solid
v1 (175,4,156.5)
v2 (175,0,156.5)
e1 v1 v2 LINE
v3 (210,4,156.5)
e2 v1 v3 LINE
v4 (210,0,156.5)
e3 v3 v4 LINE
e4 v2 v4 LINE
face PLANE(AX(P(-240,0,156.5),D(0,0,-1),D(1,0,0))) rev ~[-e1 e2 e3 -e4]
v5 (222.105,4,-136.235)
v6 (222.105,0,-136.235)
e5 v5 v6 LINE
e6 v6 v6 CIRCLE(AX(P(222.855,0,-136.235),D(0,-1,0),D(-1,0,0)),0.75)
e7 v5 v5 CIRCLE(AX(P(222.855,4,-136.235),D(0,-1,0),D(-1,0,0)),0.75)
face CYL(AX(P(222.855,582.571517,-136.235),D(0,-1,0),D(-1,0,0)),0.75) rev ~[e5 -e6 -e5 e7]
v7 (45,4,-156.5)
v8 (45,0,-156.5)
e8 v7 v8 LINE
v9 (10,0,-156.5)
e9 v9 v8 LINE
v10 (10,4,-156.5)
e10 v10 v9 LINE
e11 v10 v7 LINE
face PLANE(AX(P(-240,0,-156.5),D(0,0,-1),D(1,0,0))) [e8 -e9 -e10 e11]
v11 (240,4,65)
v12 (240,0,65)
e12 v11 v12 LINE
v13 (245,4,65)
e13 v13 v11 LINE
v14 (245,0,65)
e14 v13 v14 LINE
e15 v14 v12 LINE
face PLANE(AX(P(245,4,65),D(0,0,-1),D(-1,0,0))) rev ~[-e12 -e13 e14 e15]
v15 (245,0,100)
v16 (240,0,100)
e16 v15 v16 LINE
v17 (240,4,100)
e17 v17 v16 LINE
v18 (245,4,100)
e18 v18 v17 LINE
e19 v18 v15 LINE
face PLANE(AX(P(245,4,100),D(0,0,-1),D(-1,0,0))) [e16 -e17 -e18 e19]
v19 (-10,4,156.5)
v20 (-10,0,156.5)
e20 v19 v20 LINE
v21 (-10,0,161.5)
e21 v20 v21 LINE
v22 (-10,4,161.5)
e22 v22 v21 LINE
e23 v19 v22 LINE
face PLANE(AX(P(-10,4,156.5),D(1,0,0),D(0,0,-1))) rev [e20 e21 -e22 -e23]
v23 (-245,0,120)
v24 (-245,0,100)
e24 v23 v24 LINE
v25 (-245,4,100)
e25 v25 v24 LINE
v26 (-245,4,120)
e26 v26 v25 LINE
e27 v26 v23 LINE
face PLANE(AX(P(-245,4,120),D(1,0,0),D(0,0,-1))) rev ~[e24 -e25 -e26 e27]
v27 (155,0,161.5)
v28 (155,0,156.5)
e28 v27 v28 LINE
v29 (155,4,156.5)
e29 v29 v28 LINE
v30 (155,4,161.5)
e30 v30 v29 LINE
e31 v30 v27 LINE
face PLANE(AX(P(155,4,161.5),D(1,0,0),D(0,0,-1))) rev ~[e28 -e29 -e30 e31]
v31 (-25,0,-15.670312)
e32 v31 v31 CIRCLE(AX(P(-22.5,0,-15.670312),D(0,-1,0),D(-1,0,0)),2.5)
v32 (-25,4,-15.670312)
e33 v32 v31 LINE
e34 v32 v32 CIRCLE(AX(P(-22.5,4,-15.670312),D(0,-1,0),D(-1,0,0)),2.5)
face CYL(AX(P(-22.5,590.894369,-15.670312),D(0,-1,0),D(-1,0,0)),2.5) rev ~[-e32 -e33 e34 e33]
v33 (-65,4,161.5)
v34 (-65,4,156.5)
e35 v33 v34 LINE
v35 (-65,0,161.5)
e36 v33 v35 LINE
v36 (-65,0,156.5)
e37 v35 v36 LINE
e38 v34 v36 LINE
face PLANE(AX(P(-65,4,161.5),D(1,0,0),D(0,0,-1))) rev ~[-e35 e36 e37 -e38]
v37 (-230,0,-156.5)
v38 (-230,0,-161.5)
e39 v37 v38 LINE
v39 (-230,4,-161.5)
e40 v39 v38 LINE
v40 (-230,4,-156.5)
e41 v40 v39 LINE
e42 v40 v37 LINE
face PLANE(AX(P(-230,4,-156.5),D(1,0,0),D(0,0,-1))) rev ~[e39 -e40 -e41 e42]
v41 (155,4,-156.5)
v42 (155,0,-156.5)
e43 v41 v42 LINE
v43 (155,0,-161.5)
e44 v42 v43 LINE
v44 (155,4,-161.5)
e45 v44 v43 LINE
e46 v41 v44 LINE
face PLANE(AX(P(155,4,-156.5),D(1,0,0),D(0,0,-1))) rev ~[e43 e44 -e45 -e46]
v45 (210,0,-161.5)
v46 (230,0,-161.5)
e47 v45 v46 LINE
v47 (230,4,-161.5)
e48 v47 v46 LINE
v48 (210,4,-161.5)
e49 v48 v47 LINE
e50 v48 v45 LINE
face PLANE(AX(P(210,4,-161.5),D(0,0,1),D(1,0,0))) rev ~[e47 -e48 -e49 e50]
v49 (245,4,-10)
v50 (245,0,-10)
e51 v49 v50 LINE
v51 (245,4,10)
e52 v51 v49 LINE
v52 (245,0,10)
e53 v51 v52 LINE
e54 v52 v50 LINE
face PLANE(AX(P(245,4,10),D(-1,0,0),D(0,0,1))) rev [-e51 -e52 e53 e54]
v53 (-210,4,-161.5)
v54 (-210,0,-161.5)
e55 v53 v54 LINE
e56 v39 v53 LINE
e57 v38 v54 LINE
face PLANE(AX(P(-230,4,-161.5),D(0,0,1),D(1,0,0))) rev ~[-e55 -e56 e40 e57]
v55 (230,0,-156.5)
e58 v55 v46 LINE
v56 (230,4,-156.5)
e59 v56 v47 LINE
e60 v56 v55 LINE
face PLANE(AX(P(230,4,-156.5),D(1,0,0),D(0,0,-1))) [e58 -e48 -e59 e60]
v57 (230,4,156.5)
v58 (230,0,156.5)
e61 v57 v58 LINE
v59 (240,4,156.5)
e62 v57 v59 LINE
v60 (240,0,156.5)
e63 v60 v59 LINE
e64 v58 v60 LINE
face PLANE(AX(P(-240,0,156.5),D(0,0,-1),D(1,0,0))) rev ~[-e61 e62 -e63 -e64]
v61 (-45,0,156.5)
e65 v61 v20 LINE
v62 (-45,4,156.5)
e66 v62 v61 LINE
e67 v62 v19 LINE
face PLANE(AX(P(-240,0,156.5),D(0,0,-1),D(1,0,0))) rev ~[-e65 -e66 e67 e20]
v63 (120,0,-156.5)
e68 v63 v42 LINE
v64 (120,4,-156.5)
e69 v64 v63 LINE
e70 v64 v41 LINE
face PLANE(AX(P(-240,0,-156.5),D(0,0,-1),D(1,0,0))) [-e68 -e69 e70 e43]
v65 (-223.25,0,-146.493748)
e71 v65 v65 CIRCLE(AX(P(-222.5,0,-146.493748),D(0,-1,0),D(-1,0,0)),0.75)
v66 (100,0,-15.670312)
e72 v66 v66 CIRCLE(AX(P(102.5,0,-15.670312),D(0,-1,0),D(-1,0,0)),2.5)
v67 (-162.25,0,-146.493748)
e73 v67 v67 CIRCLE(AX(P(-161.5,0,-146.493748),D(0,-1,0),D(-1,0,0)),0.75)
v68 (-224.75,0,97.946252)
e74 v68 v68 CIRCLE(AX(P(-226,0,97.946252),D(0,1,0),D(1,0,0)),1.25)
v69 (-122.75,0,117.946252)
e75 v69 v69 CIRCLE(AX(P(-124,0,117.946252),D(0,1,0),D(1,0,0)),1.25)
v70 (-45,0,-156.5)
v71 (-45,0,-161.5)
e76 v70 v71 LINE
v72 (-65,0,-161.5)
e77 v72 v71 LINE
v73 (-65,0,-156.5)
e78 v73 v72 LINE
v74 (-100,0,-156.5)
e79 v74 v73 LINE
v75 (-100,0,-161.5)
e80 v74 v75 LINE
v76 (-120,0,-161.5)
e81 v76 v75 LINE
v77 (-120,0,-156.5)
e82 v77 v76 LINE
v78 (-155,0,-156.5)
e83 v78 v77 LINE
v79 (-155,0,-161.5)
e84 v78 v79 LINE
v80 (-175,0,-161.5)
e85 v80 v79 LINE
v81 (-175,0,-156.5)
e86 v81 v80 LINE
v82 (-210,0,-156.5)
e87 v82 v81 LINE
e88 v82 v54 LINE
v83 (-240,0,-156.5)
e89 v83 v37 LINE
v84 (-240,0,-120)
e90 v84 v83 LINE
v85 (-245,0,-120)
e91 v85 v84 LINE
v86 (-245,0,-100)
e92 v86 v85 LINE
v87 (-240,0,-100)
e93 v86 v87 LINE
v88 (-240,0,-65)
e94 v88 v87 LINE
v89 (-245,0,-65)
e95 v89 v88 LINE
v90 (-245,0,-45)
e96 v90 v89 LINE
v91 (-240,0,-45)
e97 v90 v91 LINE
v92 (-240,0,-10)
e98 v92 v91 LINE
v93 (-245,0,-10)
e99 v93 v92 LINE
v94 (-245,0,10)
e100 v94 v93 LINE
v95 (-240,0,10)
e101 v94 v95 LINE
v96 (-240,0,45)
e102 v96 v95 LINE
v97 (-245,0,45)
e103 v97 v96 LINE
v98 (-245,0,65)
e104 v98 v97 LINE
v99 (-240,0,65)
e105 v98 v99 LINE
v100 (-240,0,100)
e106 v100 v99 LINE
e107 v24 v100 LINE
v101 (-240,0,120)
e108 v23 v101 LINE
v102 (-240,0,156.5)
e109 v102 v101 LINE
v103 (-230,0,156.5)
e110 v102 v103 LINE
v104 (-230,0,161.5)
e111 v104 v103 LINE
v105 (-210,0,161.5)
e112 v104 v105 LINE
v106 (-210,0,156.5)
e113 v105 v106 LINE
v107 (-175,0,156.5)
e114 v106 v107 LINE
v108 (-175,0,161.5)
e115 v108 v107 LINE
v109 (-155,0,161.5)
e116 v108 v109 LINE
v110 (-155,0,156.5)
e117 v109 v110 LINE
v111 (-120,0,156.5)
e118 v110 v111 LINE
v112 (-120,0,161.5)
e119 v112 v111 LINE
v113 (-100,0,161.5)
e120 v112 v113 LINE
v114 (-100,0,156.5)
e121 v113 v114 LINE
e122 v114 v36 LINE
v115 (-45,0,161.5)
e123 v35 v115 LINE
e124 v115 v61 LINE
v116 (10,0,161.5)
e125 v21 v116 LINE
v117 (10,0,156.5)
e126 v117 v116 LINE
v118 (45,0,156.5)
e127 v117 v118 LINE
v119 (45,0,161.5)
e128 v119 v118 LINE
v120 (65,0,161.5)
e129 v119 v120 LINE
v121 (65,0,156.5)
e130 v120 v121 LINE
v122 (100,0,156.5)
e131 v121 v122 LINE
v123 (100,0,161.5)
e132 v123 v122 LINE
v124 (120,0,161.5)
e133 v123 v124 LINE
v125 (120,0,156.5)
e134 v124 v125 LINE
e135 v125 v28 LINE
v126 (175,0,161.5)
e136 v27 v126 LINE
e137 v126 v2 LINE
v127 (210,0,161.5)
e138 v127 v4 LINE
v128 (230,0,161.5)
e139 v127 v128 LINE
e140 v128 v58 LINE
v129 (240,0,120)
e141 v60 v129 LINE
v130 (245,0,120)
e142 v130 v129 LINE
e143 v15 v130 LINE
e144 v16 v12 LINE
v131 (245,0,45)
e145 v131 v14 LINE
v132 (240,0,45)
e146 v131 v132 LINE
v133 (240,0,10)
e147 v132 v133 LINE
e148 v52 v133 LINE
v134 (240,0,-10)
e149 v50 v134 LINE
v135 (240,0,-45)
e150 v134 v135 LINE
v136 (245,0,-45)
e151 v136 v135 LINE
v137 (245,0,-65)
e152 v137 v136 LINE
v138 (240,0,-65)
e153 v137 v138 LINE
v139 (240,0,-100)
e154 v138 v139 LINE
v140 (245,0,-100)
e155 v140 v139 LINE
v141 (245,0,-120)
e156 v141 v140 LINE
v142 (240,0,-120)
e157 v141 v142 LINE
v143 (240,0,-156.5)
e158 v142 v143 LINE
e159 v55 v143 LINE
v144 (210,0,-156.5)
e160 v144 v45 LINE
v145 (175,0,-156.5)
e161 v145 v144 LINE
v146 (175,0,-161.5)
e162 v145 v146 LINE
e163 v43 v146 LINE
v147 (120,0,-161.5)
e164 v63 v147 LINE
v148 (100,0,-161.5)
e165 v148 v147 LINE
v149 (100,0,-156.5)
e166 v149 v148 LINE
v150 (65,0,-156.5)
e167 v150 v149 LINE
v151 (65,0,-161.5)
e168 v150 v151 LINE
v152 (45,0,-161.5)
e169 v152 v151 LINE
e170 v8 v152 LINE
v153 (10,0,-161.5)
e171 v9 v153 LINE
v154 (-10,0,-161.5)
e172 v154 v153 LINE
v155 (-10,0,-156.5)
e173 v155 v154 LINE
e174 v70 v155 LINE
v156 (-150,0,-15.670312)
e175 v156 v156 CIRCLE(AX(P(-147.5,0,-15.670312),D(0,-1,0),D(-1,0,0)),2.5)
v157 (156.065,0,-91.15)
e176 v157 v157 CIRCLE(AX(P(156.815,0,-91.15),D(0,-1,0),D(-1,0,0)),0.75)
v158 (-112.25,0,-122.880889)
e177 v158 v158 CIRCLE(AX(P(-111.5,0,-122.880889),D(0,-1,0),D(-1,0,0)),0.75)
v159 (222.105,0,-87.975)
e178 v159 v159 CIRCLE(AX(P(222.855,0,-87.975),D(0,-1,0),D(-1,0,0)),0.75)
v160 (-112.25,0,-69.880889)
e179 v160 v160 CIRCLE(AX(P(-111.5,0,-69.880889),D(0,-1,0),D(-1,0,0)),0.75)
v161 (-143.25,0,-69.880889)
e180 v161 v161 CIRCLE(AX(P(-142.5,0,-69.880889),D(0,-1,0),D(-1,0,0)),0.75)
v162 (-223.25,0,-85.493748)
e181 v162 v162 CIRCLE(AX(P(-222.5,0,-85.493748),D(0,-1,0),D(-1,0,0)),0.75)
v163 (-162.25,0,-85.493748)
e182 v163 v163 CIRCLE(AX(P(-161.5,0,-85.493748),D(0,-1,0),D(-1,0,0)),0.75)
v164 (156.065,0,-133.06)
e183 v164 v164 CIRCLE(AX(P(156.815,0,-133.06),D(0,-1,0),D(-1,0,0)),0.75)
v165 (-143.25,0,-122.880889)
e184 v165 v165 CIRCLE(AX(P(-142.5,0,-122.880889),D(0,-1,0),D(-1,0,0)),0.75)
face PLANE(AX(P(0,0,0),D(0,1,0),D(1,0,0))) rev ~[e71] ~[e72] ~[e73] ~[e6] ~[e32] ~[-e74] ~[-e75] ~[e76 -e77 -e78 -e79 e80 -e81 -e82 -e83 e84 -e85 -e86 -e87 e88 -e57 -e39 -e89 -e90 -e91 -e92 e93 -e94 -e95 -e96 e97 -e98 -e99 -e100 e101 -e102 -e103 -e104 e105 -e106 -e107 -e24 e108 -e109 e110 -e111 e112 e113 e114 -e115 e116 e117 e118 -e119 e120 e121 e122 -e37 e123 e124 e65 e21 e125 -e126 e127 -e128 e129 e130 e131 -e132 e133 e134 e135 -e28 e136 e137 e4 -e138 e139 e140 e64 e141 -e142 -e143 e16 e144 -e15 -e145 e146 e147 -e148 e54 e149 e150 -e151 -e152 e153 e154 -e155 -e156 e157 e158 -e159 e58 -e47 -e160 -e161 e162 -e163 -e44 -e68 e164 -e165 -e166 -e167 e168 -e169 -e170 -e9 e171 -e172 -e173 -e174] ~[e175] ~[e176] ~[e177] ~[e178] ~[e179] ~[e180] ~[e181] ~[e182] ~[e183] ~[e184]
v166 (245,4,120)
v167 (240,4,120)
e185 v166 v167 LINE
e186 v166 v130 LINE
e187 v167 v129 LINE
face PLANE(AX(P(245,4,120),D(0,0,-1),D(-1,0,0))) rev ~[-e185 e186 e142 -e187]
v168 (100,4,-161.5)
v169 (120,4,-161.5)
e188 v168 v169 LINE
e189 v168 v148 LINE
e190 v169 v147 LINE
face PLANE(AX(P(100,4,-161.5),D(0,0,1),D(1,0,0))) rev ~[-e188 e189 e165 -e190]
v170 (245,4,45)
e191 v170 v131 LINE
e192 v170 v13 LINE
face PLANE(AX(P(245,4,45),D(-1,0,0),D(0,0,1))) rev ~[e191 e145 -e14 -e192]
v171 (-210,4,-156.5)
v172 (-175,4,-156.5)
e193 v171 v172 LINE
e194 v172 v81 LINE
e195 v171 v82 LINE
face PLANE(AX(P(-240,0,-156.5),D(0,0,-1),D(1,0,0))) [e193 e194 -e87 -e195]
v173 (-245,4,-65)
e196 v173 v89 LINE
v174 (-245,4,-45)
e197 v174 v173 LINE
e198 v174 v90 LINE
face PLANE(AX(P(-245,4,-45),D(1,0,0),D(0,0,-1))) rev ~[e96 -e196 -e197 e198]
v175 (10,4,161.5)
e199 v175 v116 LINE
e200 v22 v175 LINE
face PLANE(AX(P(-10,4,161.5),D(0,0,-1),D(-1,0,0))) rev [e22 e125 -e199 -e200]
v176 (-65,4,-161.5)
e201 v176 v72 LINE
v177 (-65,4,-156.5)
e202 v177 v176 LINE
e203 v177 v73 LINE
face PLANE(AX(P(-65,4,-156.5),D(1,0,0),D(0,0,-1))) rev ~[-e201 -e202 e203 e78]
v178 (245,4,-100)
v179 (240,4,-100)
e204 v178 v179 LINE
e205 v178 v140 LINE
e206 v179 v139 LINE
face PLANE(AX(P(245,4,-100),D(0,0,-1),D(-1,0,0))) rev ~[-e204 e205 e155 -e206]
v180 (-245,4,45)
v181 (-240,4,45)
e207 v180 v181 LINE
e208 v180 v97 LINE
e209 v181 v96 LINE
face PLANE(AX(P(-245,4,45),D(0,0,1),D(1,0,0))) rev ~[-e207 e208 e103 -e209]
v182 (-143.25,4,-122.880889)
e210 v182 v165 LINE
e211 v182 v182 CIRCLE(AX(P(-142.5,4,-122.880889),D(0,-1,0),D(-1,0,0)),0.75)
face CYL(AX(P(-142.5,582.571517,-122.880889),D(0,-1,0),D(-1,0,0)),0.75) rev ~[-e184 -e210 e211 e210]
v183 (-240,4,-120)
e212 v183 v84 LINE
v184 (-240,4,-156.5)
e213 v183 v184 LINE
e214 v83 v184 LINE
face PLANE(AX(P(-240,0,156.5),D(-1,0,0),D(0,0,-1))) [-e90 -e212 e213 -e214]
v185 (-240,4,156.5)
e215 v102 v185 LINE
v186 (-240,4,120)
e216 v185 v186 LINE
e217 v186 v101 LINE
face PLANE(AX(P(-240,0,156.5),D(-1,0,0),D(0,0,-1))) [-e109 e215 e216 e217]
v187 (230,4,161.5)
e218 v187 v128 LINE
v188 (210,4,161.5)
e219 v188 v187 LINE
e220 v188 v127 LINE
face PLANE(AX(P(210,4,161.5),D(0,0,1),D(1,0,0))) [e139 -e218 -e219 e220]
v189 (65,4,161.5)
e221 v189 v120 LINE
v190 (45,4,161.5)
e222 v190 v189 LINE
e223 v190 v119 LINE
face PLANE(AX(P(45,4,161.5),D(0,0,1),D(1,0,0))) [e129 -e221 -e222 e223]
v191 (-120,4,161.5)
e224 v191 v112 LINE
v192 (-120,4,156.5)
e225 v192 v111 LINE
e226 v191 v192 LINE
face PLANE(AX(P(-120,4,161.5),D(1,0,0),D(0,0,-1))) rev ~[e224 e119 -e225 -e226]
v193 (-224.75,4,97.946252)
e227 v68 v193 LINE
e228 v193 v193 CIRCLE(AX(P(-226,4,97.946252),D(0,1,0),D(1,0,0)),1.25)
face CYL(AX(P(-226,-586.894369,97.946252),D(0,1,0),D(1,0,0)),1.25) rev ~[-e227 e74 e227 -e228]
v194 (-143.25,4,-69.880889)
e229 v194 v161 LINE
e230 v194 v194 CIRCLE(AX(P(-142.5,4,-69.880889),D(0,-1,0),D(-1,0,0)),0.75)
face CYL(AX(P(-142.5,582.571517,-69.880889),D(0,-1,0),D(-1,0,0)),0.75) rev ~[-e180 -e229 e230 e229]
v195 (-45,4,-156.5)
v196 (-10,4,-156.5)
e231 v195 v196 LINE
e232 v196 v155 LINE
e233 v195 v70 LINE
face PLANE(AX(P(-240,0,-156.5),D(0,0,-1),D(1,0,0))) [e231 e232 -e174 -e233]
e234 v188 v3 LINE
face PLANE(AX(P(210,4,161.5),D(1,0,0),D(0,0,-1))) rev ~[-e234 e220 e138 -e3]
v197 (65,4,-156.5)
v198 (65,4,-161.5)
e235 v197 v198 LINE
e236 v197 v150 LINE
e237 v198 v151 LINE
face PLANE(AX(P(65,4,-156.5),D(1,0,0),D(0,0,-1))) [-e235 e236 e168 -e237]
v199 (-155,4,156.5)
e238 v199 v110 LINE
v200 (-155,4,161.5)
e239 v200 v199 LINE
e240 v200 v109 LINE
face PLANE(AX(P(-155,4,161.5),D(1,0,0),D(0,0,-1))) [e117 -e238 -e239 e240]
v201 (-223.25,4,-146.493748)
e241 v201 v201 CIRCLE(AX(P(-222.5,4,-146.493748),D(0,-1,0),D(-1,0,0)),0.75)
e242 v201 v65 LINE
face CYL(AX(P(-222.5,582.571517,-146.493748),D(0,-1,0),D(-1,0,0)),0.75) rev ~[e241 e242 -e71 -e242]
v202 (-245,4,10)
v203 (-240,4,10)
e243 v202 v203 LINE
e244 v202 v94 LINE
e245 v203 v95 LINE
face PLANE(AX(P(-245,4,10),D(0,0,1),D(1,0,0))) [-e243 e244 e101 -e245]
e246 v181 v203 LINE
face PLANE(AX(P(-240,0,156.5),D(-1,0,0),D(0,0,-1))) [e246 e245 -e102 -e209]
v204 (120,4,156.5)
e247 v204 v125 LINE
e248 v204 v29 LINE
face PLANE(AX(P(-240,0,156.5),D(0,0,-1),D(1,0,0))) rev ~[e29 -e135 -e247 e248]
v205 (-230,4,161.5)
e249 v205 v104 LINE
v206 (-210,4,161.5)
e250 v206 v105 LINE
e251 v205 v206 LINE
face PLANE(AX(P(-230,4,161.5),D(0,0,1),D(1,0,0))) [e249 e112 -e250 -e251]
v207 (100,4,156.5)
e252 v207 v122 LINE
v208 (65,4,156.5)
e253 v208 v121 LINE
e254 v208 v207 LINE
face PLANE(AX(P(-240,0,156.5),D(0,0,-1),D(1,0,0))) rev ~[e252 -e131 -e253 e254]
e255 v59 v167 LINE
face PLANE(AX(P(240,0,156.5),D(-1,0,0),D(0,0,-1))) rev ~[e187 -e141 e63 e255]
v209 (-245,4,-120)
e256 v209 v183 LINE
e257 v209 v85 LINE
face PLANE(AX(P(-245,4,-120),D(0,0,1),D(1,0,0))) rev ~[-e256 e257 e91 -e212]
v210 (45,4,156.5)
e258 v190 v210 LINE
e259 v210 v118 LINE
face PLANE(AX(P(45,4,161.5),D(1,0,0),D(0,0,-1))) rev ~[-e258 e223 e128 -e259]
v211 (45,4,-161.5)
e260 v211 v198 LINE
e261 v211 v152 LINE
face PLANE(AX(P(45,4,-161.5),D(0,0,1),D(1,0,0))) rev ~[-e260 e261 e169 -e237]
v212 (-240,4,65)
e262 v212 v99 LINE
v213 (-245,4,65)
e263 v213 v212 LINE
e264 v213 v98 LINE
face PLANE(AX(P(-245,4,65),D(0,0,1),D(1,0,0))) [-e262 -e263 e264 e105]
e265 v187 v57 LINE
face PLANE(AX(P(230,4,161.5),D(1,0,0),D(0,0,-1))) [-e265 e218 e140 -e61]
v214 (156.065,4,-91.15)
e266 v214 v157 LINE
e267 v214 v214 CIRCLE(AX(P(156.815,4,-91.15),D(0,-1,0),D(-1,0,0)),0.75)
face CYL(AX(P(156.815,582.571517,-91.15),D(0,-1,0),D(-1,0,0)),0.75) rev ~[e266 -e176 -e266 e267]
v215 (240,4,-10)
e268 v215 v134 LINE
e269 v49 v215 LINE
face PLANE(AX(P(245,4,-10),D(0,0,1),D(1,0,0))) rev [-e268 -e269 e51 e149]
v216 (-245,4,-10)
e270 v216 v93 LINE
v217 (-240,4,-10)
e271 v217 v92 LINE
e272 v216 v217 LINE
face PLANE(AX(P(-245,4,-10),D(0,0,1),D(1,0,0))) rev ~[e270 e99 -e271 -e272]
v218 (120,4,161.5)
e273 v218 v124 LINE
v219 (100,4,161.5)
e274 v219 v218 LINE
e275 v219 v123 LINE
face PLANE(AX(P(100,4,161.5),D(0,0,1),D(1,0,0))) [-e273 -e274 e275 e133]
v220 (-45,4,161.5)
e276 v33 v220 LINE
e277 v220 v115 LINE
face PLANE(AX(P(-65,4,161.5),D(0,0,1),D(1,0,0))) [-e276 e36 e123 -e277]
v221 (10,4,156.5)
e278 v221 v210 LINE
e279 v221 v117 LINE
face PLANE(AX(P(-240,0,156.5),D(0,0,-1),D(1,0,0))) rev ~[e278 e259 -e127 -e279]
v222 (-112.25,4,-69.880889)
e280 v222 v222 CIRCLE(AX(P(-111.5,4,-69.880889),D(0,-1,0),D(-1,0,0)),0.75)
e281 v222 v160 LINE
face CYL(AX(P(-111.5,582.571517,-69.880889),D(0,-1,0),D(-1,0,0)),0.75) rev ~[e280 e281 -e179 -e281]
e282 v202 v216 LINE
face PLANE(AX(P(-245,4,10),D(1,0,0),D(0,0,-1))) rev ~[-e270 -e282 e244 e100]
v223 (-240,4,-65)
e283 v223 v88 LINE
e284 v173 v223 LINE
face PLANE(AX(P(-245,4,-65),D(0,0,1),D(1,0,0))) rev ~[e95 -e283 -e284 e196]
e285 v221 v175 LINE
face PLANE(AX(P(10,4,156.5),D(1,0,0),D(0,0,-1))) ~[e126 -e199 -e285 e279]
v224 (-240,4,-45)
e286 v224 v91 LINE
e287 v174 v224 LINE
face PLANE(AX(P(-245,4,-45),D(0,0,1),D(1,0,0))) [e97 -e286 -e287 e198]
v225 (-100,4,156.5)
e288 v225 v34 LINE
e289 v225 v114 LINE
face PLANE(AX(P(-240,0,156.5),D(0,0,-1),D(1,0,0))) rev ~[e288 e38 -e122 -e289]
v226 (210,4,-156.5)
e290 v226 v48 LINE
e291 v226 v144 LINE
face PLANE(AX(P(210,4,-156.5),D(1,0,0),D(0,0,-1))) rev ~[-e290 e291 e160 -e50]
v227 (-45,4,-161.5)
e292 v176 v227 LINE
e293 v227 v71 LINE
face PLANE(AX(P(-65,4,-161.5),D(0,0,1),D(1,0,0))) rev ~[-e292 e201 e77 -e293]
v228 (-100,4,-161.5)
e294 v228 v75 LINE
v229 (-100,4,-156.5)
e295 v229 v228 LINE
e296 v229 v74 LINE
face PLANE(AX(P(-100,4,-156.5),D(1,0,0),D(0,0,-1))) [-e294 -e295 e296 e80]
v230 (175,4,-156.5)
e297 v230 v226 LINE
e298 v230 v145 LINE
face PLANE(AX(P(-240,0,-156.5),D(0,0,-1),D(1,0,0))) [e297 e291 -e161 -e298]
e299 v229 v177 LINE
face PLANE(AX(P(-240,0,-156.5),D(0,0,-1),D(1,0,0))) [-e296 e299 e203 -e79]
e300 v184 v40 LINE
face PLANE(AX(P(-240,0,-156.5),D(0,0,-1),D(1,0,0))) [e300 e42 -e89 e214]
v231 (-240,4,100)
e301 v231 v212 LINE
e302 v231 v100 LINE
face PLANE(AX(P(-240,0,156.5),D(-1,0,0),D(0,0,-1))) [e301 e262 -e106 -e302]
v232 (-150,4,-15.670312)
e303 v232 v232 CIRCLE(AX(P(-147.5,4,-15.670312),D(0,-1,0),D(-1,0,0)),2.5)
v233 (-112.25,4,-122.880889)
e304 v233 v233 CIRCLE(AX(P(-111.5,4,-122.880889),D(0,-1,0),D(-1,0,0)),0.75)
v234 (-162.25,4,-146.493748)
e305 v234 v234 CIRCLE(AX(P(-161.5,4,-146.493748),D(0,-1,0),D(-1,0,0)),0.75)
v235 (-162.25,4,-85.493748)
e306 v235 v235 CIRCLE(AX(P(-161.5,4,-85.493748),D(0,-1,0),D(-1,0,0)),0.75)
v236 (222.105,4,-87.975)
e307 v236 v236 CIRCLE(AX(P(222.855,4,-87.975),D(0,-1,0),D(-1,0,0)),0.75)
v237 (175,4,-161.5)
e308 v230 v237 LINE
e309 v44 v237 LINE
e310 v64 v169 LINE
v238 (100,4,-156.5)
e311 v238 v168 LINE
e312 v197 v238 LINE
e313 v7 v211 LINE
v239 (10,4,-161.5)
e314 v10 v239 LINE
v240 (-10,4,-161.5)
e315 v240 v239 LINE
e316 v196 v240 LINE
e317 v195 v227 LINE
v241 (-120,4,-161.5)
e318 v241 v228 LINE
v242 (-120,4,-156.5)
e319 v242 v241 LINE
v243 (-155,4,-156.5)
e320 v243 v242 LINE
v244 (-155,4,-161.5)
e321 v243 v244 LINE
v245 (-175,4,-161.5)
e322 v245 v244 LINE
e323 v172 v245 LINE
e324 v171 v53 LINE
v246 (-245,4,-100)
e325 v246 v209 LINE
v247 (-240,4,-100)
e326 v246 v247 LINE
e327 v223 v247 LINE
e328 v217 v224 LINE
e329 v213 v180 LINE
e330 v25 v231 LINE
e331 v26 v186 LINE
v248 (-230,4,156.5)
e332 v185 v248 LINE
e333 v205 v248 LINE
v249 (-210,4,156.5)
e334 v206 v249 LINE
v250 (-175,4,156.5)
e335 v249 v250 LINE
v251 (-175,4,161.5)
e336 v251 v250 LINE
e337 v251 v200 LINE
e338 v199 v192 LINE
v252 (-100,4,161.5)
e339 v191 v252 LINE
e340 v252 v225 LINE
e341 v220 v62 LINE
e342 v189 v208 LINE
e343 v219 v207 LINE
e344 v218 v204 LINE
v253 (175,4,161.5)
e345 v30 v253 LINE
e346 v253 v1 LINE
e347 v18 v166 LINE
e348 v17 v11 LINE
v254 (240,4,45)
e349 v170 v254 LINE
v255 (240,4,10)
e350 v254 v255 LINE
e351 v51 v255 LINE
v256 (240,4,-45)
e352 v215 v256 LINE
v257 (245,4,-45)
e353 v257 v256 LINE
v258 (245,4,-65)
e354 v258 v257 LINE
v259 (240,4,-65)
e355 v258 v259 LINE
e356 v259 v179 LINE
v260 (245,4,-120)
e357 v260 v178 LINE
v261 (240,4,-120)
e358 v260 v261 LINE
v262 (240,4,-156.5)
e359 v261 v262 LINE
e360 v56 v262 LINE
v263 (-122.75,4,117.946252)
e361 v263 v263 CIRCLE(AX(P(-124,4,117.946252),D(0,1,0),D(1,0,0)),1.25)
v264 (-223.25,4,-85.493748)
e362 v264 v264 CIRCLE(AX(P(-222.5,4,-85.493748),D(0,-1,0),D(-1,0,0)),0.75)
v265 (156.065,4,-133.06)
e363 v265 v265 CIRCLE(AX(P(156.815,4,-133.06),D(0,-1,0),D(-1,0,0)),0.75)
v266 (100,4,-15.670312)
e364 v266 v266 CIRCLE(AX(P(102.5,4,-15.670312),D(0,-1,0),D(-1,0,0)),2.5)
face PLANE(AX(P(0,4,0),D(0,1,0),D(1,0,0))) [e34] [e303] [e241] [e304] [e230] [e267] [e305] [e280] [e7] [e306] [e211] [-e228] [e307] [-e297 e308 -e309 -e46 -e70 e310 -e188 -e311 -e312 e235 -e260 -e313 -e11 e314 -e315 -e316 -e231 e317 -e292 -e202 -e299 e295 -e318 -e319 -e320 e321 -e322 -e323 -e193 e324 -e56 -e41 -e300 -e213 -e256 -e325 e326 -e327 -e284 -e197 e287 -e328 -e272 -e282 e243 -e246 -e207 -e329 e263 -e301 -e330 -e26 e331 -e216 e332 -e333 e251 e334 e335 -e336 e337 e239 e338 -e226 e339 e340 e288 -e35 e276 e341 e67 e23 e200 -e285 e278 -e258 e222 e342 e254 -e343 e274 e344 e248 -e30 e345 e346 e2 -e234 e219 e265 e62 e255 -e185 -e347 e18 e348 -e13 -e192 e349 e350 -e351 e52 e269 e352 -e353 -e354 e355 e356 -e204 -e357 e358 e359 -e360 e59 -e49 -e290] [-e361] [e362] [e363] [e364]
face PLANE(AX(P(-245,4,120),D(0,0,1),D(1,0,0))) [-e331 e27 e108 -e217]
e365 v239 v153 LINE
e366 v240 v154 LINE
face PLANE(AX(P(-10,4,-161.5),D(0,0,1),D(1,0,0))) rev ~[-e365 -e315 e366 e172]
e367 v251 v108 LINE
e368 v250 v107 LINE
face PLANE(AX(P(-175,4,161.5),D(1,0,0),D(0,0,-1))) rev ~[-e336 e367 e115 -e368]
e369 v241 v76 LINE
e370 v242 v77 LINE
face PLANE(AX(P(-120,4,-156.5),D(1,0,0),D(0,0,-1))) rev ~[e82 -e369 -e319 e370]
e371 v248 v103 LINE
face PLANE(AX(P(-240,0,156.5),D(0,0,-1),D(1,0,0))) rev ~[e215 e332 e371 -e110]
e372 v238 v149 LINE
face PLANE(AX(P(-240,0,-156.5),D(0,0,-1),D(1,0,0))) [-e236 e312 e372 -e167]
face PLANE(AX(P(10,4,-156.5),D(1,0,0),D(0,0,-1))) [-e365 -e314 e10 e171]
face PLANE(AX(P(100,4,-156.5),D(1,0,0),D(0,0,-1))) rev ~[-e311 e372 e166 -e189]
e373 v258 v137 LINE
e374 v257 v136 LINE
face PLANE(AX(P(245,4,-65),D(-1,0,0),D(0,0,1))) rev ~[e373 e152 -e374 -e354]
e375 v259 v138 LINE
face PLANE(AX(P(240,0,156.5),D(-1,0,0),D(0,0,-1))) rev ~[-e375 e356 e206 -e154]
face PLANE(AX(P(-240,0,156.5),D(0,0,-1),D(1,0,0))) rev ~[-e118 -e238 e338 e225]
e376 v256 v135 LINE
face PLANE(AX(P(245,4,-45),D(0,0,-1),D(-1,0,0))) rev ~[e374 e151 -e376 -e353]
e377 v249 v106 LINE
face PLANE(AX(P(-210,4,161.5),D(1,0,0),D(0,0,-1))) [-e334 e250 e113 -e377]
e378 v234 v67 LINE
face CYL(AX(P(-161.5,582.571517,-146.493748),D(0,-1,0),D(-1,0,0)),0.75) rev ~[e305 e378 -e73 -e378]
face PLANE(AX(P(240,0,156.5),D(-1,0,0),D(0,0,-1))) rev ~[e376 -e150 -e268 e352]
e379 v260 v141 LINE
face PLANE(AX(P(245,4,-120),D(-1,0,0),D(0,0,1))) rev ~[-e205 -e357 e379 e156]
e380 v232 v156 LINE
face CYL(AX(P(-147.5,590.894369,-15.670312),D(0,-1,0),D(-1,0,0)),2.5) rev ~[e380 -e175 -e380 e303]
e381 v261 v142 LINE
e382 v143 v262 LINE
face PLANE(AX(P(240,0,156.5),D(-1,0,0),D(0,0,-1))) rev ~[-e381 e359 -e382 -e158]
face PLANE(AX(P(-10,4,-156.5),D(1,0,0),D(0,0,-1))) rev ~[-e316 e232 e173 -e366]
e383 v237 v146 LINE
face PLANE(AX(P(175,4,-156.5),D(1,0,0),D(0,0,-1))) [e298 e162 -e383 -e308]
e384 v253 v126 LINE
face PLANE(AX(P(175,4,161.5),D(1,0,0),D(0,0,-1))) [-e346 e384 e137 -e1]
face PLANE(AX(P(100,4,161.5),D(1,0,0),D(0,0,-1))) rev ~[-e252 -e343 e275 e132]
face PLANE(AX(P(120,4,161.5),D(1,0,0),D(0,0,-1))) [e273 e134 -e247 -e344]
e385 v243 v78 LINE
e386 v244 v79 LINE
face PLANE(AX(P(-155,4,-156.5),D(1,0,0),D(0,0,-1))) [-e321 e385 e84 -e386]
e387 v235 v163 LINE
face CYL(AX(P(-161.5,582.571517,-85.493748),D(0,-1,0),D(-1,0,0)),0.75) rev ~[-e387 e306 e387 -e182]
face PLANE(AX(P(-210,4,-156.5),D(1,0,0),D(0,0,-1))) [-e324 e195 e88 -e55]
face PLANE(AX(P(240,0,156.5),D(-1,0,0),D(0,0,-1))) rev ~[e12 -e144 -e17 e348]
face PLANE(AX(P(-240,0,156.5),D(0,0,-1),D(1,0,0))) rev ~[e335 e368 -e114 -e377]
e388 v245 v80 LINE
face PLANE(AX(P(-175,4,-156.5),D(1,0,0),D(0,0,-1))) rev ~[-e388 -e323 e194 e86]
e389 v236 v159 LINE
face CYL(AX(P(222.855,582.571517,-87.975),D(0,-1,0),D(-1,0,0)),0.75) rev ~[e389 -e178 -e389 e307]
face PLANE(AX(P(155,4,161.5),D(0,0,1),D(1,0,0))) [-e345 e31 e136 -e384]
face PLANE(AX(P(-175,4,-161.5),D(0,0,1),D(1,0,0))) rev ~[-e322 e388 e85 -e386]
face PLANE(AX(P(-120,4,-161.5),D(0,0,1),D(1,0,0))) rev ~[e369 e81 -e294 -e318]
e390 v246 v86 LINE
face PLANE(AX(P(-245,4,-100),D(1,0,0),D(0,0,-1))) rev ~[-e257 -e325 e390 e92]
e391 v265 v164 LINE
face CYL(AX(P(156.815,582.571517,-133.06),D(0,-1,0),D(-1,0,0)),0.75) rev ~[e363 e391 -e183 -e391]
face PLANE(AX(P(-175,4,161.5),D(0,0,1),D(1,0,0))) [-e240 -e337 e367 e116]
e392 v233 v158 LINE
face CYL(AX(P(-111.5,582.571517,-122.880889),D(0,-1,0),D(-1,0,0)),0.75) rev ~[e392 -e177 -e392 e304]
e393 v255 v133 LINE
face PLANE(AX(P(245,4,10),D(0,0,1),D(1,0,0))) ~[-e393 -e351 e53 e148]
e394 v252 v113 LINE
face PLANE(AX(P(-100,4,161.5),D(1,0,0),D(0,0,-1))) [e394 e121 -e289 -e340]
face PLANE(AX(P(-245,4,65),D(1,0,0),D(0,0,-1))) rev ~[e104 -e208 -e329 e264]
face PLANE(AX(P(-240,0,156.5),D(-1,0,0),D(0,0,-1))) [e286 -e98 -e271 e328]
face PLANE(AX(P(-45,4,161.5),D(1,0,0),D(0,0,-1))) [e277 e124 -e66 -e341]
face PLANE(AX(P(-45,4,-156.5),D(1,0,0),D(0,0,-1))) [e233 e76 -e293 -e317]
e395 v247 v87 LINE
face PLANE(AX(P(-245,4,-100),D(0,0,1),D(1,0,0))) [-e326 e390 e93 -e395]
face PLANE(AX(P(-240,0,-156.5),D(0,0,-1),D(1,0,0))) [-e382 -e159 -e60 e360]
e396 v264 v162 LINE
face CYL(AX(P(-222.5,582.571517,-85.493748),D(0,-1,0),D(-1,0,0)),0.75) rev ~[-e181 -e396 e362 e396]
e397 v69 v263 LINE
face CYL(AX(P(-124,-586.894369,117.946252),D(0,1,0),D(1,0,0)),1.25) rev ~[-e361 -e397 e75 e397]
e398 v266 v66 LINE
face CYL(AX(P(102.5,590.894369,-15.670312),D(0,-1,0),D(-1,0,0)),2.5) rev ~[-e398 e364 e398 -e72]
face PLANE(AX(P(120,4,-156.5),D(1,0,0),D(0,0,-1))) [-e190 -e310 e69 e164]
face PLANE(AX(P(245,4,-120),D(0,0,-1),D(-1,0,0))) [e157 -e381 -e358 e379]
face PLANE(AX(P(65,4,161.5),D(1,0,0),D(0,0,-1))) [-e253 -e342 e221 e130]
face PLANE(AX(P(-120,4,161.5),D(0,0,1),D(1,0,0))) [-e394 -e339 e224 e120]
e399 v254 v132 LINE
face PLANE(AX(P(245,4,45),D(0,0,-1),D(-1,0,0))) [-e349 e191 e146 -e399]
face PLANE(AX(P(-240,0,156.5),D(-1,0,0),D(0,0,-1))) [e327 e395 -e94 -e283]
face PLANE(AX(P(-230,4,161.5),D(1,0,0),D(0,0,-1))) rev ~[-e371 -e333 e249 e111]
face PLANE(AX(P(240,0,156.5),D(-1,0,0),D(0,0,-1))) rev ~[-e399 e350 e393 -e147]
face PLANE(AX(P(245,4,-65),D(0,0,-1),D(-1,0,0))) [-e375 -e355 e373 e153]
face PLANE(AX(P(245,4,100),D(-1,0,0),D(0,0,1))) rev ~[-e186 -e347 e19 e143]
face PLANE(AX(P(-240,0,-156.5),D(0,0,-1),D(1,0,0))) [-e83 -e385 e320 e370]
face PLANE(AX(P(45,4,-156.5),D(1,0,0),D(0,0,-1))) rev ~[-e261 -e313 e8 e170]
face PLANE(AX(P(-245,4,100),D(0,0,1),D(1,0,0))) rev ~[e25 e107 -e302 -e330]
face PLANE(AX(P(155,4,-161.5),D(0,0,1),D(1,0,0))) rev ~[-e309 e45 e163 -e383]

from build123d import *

# Parameters (mm, degrees)
SKETCH1_W                        = 480
SKETCH1_H                        = 313
BASE_DEPTH                       = 4
SKETCH2_W                        = 20
SKETCH2_H                        = 5
TOP_TABS_DEFINITION_DEPTH        = 4
TOP_TABS_PATTERN_COUNT           = 5
TOP_TABS_PATTERN_PITCH           = 55
TOP_TABS_PATTERN_COL_COUNT       = 5
TOP_TABS_PATTERN_COL_PITCH       = 55
BOTTOM_TABS_COPY_1_SKETCH_W      = 20
BOTTOM_TABS_COPY_1_SKETCH_H      = 5
BOTTOM_TABS_COPY_1_DEPTH         = 4
BOTTOM_TABS_COPY_2_SKETCH_W      = 20
BOTTOM_TABS_COPY_2_SKETCH_H      = 5
BOTTOM_TABS_COPY_2_DEPTH         = 4
BOTTOM_TABS_COPY_3_SKETCH_W      = 20
BOTTOM_TABS_COPY_3_SKETCH_H      = 5
BOTTOM_TABS_COPY_3_DEPTH         = 4
BOTTOM_TABS_COPY_4_SKETCH_W      = 20
BOTTOM_TABS_COPY_4_SKETCH_H      = 5
BOTTOM_TABS_COPY_4_DEPTH         = 4
BOTTOM_TABS_COPY_5_SKETCH_W      = 20
BOTTOM_TABS_COPY_5_SKETCH_H      = 5
BOTTOM_TABS_COPY_5_DEPTH         = 4
BOTTOM_TABS_COPY_6_SKETCH_W      = 20
BOTTOM_TABS_COPY_6_SKETCH_H      = 5
BOTTOM_TABS_COPY_6_DEPTH         = 4
BOTTOM_TABS_COPY_7_SKETCH_W      = 20
BOTTOM_TABS_COPY_7_SKETCH_H      = 5
BOTTOM_TABS_COPY_7_DEPTH         = 4
BOTTOM_TABS_COPY_8_SKETCH_W      = 20
BOTTOM_TABS_COPY_8_SKETCH_H      = 5
BOTTOM_TABS_COPY_8_DEPTH         = 4
ELECTRONICS_MOUNTING_HOLES_1_5_D = 1.5
SKETCH7_W                        = 5
SKETCH7_H                        = 20
LEFT_TABS_DEFINITION_DEPTH       = 4
LEFT_TABS_PATTERN_COUNT          = 3
LEFT_TABS_PATTERN_PITCH          = 55
LEFT_TABS_PATTERN_COL_COUNT      = 3
LEFT_TABS_PATTERN_COL_PITCH      = 55
RIGHT_TABS_COPY_1_SKETCH_W       = 5
RIGHT_TABS_COPY_1_SKETCH_H       = 20
RIGHT_TABS_COPY_1_DEPTH          = 4
RIGHT_TABS_COPY_2_SKETCH_W       = 5
RIGHT_TABS_COPY_2_SKETCH_H       = 20
RIGHT_TABS_COPY_2_DEPTH          = 4
RIGHT_TABS_COPY_3_SKETCH_W       = 5
RIGHT_TABS_COPY_3_SKETCH_H       = 20
RIGHT_TABS_COPY_3_DEPTH          = 4
RIGHT_TABS_COPY_4_SKETCH_W       = 5
RIGHT_TABS_COPY_4_SKETCH_H       = 20
RIGHT_TABS_COPY_4_DEPTH          = 4
M6_CLEARANCE_HOLE1_D             = 5
TAP_DRILL_FOR_M3X0_5_TAP1_D      = 2.5


with BuildPart() as part:
    # Sketch1 → Base (new body)
    with BuildSketch(Plane(origin=(0, 0, 0), x_dir=(1, 0, 0), z_dir=(0, 1, 0))):
        Rectangle(SKETCH1_W, SKETCH1_H)
    extrude(amount=BASE_DEPTH)

    # Sketch2 → Top Tabs Definition (add)
    with BuildSketch(Plane(origin=(0, 4, 0), x_dir=(1, 0, 0), z_dir=(0, 1, 0))):
        with Locations((0, 159)):
            Rectangle(SKETCH2_W, SKETCH2_H)
    top_tabs_definition = extrude(amount=-TOP_TABS_DEFINITION_DEPTH)

    # Top Tabs Pattern: Top Tabs Definition ×5
    with Locations(*[(-i * TOP_TABS_PATTERN_PITCH, 0, 0) for i in range(1, TOP_TABS_PATTERN_COUNT)]):
        add(top_tabs_definition)

    # Top Tabs Pattern col: Top Tabs Definition ×5
    with Locations(*[(i * TOP_TABS_PATTERN_COL_PITCH, 0, 0) for i in range(1, TOP_TABS_PATTERN_COL_COUNT)]):
        add(top_tabs_definition)

    # Bottom Tabs: Top Tabs Definition across plane
    add(top_tabs_definition.mirror(Plane.XY))

    # Bottom Tabs copy 1 sketch → Bottom Tabs copy 1 (add)
    with BuildSketch(Plane(origin=(-55, 4, 0), x_dir=(1, 0, 0), z_dir=(0, 1, 0))):
        with Locations((0, -159)):
            Rectangle(BOTTOM_TABS_COPY_1_SKETCH_W, BOTTOM_TABS_COPY_1_SKETCH_H)
    extrude(amount=-BOTTOM_TABS_COPY_1_DEPTH)

    # Bottom Tabs copy 2 sketch → Bottom Tabs copy 2 (add)
    with BuildSketch(Plane(origin=(-110, 4, 0), x_dir=(1, 0, 0), z_dir=(0, 1, 0))):
        with Locations((0, -159)):
            Rectangle(BOTTOM_TABS_COPY_2_SKETCH_W, BOTTOM_TABS_COPY_2_SKETCH_H)
    extrude(amount=-BOTTOM_TABS_COPY_2_DEPTH)

    # Bottom Tabs copy 3 sketch → Bottom Tabs copy 3 (add)
    with BuildSketch(Plane(origin=(-165, 4, 0), x_dir=(1, 0, 0), z_dir=(0, 1, 0))):
        with Locations((0, -159)):
            Rectangle(BOTTOM_TABS_COPY_3_SKETCH_W, BOTTOM_TABS_COPY_3_SKETCH_H)
    extrude(amount=-BOTTOM_TABS_COPY_3_DEPTH)

    # Bottom Tabs copy 4 sketch → Bottom Tabs copy 4 (add)
    with BuildSketch(Plane(origin=(-220, 4, 0), x_dir=(1, 0, 0), z_dir=(0, 1, 0))):
        with Locations((0, -159)):
            Rectangle(BOTTOM_TABS_COPY_4_SKETCH_W, BOTTOM_TABS_COPY_4_SKETCH_H)
    extrude(amount=-BOTTOM_TABS_COPY_4_DEPTH)

    # Bottom Tabs copy 5 sketch → Bottom Tabs copy 5 (add)
    with BuildSketch(Plane(origin=(55, 4, 0), x_dir=(1, 0, 0), z_dir=(0, 1, 0))):
        with Locations((0, -159)):
            Rectangle(BOTTOM_TABS_COPY_5_SKETCH_W, BOTTOM_TABS_COPY_5_SKETCH_H)
    extrude(amount=-BOTTOM_TABS_COPY_5_DEPTH)

    # Bottom Tabs copy 6 sketch → Bottom Tabs copy 6 (add)
    with BuildSketch(Plane(origin=(110, 4, 0), x_dir=(1, 0, 0), z_dir=(0, 1, 0))):
        with Locations((0, -159)):
            Rectangle(BOTTOM_TABS_COPY_6_SKETCH_W, BOTTOM_TABS_COPY_6_SKETCH_H)
    extrude(amount=-BOTTOM_TABS_COPY_6_DEPTH)

    # Bottom Tabs copy 7 sketch → Bottom Tabs copy 7 (add)
    with BuildSketch(Plane(origin=(165, 4, 0), x_dir=(1, 0, 0), z_dir=(0, 1, 0))):
        with Locations((0, -159)):
            Rectangle(BOTTOM_TABS_COPY_7_SKETCH_W, BOTTOM_TABS_COPY_7_SKETCH_H)
    extrude(amount=-BOTTOM_TABS_COPY_7_DEPTH)

    # Bottom Tabs copy 8 sketch → Bottom Tabs copy 8 (add)
    with BuildSketch(Plane(origin=(220, 4, 0), x_dir=(1, 0, 0), z_dir=(0, 1, 0))):
        with Locations((0, -159)):
            Rectangle(BOTTOM_TABS_COPY_8_SKETCH_W, BOTTOM_TABS_COPY_8_SKETCH_H)
    extrude(amount=-BOTTOM_TABS_COPY_8_DEPTH)

    # Electronics Mounting Holes (1.5) (through all)
    with Locations(Plane(origin=(0, 4, 0), x_dir=(1, 0, 0), z_dir=(0, 1, 0))):
        with Locations((-142.5, 122.880889181), (-111.5, 122.880889181), (-111.5, 69.880889181), (-142.5, 69.880889181), (-161.5, 85.493748074), (-161.5, 146.493748074), (-222.5, 146.493748074), (-222.5, 85.493748074), (156.815, 133.05999982), (222.855, 136.23499982), (222.855, 87.97499982), (156.815, 91.14999982)):
            Hole(ELECTRONICS_MOUNTING_HOLES_1_5_D / 2)

    # Sketch7 → Left Tabs Definition (add)
    with BuildSketch(Plane(origin=(0, 4, 0), x_dir=(1, 0, 0), z_dir=(0, 1, 0))):
        with Locations((-242.5, 0)):
            Rectangle(SKETCH7_W, SKETCH7_H)
    left_tabs_definition = extrude(amount=-LEFT_TABS_DEFINITION_DEPTH)

    # Left Tabs Pattern: Left Tabs Definition ×3
    with Locations(*[(0, 0, -i * LEFT_TABS_PATTERN_PITCH) for i in range(1, LEFT_TABS_PATTERN_COUNT)]):
        add(left_tabs_definition)

    # Left Tabs Pattern col: Left Tabs Definition ×3
    with Locations(*[(0, 0, i * LEFT_TABS_PATTERN_COL_PITCH) for i in range(1, LEFT_TABS_PATTERN_COL_COUNT)]):
        add(left_tabs_definition)

    # Right Tabs: Left Tabs Definition across plane
    add(left_tabs_definition.mirror(Plane(origin=(0, 0, 0), x_dir=(0, 0, 1), z_dir=(1, 0, 0))))

    # Right Tabs copy 1 sketch → Right Tabs copy 1 (add)
    with BuildSketch(Plane(origin=(0, 4, -55), x_dir=(-1, 0, 0), z_dir=(0, 1, 0))):
        with Locations((-242.5, 0)):
            Rectangle(RIGHT_TABS_COPY_1_SKETCH_W, RIGHT_TABS_COPY_1_SKETCH_H)
    extrude(amount=-RIGHT_TABS_COPY_1_DEPTH)

    # Right Tabs copy 2 sketch → Right Tabs copy 2 (add)
    with BuildSketch(Plane(origin=(0, 4, -110), x_dir=(-1, 0, 0), z_dir=(0, 1, 0))):
        with Locations((-242.5, 0)):
            Rectangle(RIGHT_TABS_COPY_2_SKETCH_W, RIGHT_TABS_COPY_2_SKETCH_H)
    extrude(amount=-RIGHT_TABS_COPY_2_DEPTH)

    # Right Tabs copy 3 sketch → Right Tabs copy 3 (add)
    with BuildSketch(Plane(origin=(0, 4, 55), x_dir=(-1, 0, 0), z_dir=(0, 1, 0))):
        with Locations((-242.5, 0)):
            Rectangle(RIGHT_TABS_COPY_3_SKETCH_W, RIGHT_TABS_COPY_3_SKETCH_H)
    extrude(amount=-RIGHT_TABS_COPY_3_DEPTH)

    # Right Tabs copy 4 sketch → Right Tabs copy 4 (add)
    with BuildSketch(Plane(origin=(0, 4, 110), x_dir=(-1, 0, 0), z_dir=(0, 1, 0))):
        with Locations((-242.5, 0)):
            Rectangle(RIGHT_TABS_COPY_4_SKETCH_W, RIGHT_TABS_COPY_4_SKETCH_H)
    extrude(amount=-RIGHT_TABS_COPY_4_DEPTH)

    # M6 Clearance Hole1 (through all)
    with Locations(Plane(origin=(0, 4, 0), x_dir=(1, 0, 0), z_dir=(0, 1, 0))):
        with Locations((-147.5, 15.670311787), (-22.5, 15.670311787), (102.5, 15.670311787)):
            Hole(M6_CLEARANCE_HOLE1_D / 2)

    # Tap Drill for M3x0.5 Tap1 (through all)
    with Locations(Plane(origin=(0, 0, 0), x_dir=(-1, 0, 0), z_dir=(0, -1, 0))):
        with Locations((124, -117.946251926), (226, -97.946251926)):
            Hole(TAP_DRILL_FOR_M3X0_5_TAP1_D / 2)


solid = part.part
